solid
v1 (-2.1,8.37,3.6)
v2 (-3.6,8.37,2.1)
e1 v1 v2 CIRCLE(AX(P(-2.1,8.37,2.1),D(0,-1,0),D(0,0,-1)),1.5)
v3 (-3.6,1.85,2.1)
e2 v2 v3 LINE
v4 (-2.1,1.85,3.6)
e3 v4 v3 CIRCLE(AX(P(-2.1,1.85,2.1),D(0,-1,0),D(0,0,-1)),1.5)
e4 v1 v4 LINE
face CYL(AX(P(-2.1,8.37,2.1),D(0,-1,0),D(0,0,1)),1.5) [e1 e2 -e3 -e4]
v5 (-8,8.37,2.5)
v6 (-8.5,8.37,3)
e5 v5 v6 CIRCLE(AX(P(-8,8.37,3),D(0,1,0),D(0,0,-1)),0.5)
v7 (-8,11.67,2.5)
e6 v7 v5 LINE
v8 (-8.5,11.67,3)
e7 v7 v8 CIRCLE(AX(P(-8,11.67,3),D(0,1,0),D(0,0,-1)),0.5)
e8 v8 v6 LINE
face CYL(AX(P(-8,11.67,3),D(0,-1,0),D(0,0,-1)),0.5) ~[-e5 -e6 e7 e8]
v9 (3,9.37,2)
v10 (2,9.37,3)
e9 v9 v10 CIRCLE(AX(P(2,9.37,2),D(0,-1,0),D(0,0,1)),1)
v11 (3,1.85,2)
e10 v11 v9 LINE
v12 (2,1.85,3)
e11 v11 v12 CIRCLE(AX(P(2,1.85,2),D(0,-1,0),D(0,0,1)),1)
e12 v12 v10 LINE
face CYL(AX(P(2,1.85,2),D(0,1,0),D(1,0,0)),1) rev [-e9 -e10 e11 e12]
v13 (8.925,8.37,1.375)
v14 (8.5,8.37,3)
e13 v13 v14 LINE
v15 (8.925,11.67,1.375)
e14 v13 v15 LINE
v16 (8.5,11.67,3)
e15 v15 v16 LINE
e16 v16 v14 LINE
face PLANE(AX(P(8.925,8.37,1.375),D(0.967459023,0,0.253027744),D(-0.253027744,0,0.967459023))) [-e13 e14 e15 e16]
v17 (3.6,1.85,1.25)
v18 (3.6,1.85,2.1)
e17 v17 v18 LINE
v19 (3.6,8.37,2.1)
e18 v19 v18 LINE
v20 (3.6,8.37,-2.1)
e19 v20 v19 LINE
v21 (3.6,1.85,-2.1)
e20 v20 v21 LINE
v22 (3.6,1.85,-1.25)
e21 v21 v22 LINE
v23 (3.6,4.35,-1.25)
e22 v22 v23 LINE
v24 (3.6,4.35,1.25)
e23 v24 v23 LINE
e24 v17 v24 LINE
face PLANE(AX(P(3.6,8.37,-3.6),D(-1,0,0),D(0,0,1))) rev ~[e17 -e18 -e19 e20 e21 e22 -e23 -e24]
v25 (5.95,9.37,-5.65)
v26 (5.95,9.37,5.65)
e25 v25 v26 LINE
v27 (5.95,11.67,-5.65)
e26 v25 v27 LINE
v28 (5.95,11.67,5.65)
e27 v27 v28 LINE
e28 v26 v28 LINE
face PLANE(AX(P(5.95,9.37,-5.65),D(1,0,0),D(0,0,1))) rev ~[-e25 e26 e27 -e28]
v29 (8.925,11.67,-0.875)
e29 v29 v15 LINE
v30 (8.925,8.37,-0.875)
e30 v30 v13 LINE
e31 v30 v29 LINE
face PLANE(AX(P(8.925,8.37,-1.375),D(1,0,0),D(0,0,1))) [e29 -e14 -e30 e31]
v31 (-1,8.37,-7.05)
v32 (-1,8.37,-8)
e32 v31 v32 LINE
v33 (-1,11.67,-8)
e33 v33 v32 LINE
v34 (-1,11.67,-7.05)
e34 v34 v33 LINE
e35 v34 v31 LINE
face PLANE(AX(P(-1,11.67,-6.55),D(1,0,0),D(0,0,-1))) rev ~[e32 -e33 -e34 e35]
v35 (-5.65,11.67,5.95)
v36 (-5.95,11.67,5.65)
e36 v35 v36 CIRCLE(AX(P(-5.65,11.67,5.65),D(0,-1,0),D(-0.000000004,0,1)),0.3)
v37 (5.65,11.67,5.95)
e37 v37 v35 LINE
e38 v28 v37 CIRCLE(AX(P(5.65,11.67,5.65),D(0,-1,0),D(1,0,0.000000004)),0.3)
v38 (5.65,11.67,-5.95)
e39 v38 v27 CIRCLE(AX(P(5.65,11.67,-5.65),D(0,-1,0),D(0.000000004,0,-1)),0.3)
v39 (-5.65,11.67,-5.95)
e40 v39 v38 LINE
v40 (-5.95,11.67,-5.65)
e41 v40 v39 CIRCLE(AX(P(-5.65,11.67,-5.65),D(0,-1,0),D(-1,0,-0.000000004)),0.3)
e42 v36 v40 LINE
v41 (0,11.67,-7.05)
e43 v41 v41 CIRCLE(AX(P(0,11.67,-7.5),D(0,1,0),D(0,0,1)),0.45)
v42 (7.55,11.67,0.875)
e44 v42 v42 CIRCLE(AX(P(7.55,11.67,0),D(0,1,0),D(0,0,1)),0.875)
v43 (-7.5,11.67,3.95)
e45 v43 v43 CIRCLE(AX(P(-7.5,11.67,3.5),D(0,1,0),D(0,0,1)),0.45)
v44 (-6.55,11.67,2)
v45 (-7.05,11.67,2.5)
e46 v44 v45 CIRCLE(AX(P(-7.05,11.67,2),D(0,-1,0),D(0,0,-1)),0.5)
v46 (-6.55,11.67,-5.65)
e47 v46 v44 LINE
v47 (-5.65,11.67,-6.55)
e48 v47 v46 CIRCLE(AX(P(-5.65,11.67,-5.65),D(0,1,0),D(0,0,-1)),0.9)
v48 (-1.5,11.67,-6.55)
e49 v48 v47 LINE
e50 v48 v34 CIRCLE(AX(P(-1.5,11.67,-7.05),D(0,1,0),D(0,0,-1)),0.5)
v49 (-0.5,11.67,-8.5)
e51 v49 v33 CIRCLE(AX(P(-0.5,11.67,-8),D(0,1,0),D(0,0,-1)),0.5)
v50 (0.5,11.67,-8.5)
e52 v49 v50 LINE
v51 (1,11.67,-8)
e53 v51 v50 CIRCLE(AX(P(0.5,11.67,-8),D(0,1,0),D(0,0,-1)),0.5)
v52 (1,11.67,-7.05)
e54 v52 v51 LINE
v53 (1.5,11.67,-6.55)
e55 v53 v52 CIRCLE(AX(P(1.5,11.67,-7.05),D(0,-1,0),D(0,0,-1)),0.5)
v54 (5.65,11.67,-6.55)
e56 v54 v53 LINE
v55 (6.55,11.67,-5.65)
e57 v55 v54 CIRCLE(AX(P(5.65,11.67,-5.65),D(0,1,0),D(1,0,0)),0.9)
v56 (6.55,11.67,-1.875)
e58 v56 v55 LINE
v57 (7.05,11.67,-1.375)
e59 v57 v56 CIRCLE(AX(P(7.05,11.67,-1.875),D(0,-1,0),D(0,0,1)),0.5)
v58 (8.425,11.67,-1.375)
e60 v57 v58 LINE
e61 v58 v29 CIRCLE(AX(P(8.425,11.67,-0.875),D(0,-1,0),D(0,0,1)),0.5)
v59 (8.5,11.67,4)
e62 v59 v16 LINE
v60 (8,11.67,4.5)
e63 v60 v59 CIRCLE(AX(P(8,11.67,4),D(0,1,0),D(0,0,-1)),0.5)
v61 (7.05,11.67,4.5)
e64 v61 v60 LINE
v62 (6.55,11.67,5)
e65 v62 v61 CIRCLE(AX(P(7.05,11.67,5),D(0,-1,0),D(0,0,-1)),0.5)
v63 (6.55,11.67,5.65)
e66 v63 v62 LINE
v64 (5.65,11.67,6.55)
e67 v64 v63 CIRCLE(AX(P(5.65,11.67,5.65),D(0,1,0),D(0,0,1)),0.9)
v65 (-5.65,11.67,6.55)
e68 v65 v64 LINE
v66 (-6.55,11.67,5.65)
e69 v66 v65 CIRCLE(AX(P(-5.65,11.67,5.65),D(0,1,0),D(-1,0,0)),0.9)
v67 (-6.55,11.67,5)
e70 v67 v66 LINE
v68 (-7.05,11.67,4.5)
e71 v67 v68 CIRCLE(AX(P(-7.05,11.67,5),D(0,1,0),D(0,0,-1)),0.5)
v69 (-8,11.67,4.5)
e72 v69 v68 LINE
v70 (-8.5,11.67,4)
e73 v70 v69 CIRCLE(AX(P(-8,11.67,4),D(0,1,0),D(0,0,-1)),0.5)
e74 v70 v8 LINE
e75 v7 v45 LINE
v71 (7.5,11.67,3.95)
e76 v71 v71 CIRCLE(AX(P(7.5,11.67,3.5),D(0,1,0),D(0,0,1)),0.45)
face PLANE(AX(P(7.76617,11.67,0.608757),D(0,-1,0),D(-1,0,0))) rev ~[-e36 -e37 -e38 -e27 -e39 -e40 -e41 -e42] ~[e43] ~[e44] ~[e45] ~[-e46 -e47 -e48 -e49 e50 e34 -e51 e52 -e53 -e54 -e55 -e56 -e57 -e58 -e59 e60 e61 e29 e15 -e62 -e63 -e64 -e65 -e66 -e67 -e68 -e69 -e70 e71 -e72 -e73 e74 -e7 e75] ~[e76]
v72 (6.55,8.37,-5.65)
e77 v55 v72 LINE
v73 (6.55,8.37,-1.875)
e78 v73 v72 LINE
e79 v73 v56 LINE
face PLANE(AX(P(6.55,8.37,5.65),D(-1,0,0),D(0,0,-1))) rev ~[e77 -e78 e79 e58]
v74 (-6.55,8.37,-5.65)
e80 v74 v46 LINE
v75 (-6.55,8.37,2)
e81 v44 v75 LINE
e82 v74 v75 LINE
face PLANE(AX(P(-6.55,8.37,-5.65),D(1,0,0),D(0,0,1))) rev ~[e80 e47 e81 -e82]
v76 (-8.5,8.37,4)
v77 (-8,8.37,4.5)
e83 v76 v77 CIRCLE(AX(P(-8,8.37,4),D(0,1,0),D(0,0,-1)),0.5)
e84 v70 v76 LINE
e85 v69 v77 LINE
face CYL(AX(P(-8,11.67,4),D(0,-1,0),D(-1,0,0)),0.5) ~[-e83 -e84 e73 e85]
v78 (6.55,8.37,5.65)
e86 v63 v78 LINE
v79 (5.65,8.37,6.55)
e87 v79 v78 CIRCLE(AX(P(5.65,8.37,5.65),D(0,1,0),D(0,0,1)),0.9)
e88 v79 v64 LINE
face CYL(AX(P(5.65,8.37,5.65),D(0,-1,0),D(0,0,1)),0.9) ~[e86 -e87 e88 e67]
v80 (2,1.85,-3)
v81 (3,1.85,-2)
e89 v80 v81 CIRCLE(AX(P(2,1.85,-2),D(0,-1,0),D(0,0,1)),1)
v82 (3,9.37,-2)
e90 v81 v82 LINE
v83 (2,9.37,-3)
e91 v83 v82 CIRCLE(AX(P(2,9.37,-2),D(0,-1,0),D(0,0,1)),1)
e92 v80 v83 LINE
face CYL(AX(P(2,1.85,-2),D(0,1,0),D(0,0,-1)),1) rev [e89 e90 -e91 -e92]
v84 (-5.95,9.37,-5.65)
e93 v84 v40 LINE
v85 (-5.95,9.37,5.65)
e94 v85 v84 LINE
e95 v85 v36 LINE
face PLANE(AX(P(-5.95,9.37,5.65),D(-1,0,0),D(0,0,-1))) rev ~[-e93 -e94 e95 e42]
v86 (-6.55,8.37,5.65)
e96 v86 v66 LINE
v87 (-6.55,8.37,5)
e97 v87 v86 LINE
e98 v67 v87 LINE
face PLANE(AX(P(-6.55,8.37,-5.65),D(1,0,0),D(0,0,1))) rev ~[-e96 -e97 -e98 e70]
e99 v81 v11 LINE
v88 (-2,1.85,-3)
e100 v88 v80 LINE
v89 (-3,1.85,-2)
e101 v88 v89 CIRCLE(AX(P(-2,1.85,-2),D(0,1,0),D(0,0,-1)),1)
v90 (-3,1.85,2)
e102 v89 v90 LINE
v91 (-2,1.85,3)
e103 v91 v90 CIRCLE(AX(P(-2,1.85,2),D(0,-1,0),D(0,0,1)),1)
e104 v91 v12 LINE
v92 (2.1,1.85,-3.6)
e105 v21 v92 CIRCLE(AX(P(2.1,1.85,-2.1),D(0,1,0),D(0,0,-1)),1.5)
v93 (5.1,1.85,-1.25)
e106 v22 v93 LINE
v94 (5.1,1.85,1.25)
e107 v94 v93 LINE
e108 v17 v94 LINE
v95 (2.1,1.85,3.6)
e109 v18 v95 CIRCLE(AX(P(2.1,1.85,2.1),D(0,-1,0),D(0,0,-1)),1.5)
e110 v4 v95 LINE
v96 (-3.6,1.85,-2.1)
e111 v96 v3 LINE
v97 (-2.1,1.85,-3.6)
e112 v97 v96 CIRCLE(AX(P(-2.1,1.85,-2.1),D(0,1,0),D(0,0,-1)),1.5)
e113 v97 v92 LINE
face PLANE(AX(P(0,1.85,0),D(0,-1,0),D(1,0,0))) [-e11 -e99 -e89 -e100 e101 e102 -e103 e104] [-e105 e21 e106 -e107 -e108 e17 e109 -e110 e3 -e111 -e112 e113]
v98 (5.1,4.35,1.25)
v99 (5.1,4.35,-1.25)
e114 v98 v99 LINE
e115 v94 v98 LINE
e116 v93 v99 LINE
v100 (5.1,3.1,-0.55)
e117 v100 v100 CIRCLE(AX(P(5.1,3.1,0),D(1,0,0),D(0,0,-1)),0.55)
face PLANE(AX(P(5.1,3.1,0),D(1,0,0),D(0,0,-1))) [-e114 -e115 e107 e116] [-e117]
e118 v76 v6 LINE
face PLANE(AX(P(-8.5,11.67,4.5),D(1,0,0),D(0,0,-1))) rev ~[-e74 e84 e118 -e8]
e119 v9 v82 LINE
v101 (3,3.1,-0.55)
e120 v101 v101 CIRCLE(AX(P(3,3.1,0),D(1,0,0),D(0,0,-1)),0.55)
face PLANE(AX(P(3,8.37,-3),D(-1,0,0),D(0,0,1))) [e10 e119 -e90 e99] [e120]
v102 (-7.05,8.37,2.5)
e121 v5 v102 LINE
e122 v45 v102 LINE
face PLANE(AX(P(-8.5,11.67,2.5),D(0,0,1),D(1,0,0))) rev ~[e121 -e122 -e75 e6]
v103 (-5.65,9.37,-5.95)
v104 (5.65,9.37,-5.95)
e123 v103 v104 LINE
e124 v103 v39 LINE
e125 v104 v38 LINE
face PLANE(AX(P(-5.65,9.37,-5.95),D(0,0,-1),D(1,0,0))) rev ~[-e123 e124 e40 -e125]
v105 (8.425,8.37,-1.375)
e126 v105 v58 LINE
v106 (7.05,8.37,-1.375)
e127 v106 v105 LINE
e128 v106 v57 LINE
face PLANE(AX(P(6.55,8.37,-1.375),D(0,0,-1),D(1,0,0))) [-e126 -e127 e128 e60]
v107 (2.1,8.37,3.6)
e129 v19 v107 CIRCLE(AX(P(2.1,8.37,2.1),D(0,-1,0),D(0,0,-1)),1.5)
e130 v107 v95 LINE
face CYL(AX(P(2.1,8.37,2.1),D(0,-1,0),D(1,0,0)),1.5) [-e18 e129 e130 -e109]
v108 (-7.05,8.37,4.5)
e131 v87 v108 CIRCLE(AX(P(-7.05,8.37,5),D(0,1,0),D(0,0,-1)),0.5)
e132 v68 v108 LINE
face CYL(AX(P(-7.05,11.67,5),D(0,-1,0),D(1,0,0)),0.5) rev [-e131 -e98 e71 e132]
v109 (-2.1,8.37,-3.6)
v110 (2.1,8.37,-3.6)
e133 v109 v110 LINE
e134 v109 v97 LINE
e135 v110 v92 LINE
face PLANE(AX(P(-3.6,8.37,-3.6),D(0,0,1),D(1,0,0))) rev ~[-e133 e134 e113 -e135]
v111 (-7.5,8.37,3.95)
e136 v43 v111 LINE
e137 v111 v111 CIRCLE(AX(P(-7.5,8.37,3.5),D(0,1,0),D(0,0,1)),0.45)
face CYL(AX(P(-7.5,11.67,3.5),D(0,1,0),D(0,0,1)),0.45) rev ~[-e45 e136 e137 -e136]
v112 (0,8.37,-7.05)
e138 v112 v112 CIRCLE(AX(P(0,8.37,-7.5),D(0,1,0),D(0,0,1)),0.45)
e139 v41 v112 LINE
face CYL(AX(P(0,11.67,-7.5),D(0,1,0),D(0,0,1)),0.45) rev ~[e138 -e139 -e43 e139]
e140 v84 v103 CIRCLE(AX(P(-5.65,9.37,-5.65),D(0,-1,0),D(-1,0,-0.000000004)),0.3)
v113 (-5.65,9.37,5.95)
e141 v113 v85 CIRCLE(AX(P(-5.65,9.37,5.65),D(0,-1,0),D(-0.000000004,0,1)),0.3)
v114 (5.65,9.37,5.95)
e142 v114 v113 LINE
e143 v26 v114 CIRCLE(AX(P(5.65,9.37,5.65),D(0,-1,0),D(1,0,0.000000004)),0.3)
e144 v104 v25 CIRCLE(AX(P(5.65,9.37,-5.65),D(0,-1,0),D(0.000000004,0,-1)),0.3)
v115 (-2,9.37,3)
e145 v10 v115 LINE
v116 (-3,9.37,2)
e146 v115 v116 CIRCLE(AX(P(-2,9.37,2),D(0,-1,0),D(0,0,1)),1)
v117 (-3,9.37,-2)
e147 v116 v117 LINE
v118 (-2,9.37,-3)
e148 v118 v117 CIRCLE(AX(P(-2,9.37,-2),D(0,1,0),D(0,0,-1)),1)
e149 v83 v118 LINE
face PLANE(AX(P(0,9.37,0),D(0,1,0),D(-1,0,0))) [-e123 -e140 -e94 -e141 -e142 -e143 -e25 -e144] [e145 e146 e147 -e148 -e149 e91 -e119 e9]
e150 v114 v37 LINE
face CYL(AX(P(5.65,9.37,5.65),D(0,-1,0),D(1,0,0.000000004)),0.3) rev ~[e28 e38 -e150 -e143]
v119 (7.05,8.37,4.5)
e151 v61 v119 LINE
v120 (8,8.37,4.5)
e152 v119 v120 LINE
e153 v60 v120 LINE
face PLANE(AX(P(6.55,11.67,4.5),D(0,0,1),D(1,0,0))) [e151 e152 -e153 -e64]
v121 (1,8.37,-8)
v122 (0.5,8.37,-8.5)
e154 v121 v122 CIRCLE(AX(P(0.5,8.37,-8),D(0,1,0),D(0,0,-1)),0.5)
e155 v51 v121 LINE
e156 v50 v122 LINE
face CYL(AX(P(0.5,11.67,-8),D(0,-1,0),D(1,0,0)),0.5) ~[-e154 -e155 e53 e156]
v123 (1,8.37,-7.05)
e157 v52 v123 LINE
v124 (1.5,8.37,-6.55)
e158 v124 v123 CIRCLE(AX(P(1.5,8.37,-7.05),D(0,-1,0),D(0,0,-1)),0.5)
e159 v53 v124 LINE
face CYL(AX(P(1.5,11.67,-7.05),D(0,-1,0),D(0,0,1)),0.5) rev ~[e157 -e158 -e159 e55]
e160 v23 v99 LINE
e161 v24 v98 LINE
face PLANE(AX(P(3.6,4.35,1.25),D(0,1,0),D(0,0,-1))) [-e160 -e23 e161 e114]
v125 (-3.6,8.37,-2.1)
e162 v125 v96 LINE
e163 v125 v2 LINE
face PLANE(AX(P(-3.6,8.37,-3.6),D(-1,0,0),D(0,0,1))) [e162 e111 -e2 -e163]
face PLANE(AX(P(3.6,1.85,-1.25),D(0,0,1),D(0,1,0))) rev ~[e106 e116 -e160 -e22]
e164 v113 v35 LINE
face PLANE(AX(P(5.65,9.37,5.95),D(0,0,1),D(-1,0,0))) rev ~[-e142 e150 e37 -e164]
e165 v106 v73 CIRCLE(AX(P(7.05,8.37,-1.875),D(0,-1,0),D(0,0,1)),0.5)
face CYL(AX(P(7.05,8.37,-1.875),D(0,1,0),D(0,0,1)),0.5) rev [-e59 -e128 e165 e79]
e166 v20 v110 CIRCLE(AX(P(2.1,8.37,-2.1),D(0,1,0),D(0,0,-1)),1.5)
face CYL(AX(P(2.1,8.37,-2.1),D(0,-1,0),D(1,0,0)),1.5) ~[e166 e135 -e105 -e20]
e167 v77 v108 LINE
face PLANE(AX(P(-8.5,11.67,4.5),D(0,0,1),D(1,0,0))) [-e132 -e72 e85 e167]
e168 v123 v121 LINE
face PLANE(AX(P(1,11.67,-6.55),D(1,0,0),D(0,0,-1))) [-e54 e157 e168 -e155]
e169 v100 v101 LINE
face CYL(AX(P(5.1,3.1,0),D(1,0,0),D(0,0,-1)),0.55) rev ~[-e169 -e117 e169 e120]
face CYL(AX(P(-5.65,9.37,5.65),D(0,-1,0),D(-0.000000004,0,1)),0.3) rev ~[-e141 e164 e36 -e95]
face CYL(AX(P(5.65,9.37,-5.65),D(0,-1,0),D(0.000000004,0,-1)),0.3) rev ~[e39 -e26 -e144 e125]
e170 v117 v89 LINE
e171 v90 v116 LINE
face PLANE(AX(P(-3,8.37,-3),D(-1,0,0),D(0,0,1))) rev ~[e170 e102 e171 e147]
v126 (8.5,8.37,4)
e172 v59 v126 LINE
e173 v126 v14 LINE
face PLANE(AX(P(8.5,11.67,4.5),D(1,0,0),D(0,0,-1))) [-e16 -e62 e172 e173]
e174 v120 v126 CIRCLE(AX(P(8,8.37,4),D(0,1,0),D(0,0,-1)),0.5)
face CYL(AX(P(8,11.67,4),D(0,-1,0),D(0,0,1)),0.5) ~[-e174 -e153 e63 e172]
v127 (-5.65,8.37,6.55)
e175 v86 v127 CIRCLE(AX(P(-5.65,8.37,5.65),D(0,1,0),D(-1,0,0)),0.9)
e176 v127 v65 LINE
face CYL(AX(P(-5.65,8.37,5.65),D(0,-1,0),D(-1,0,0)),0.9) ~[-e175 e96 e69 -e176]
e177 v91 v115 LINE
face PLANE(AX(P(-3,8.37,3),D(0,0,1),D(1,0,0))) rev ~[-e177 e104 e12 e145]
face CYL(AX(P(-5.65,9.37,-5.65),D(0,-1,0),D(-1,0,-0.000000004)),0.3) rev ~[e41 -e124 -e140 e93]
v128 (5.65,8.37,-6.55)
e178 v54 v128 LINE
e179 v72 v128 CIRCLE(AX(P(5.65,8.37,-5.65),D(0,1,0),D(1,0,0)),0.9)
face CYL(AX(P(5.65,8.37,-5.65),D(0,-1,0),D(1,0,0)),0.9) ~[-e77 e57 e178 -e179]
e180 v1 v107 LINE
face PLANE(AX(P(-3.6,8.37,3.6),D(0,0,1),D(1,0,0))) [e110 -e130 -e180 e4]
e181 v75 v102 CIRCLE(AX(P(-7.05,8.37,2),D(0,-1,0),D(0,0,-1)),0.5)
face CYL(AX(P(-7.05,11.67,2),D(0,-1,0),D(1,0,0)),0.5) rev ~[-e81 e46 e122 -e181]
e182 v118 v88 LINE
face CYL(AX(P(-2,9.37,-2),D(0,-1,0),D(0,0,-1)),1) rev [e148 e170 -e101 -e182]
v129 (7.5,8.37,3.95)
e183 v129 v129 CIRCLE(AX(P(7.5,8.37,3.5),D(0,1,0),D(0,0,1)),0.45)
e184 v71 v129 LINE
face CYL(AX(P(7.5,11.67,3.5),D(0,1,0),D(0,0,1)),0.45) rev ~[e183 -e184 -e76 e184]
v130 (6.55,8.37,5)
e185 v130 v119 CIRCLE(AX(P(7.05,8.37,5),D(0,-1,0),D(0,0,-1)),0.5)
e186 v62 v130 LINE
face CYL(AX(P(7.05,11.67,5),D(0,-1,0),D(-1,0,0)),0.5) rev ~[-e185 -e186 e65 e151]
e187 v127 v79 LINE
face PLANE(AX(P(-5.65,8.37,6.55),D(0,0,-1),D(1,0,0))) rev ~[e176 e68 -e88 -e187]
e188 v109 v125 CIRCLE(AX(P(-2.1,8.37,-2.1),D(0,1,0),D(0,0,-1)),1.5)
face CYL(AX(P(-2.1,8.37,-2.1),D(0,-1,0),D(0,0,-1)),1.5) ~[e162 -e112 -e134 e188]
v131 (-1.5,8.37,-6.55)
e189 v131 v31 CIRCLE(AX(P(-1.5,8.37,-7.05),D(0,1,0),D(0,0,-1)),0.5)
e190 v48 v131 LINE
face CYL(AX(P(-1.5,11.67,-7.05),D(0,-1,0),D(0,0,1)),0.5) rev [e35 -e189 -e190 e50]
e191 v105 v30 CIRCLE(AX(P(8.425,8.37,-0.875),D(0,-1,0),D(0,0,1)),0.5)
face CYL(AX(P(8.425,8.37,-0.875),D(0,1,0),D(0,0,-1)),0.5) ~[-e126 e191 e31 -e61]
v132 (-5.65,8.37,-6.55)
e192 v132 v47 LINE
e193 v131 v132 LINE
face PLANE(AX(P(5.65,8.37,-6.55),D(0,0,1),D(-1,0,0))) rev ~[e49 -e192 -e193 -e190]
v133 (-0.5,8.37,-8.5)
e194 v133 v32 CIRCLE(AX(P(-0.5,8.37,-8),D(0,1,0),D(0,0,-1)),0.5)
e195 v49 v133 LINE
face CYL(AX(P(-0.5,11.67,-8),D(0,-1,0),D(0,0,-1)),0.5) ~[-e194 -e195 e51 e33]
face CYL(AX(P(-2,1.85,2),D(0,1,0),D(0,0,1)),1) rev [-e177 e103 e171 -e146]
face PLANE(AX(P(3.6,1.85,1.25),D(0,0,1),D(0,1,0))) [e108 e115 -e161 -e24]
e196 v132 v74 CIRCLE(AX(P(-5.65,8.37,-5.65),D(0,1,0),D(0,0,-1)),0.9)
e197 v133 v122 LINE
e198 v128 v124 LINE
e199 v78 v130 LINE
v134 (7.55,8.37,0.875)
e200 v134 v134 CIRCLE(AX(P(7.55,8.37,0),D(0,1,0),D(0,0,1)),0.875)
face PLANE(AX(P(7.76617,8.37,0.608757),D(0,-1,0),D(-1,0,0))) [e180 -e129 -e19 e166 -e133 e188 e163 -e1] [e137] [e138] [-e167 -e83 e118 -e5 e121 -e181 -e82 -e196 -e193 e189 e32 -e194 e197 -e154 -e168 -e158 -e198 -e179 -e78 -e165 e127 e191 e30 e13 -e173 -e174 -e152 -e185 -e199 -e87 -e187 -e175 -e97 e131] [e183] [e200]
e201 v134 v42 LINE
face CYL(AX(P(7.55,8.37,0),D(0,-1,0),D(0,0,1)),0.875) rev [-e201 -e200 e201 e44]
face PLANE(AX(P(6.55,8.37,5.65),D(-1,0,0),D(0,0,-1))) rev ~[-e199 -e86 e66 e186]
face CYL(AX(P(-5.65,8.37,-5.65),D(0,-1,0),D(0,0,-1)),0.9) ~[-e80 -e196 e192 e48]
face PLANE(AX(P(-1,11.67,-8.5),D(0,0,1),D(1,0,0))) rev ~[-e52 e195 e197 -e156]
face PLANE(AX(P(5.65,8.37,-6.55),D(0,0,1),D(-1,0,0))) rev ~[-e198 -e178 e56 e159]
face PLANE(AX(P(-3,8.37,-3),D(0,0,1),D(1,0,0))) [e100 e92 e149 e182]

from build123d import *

# Parameters (mm, degrees)
BOSS_EXTRUDE1_DEPTH       = 2.3
BOSS_EXTRUDE2_START       = 1
BOSS_EXTRUDE2_DEPTH       = 1
SKETCH19_W                = 2
SKETCH19_H                = 1.95
SKETCH19_R                = 0.45
SKETCH19_W_2              = 1.95
SKETCH19_H_2              = 2
CMOS_MOUNTING_HOLES_DEPTH = 3.3
FILLET1_R                 = 0.5
SKETCH21_W                = 7.2
SKETCH21_H                = 7.2
SKETCH21_W_2              = 6
SKETCH21_H_2              = 6
COLUMN_DEPTH              = 6.52
SKETCH22_W                = 6
SKETCH22_H                = 6
COLUMN_EXTRUDED_CUT_DEPTH = 14.675174588
COLUMN_OUTSIDE_FILLET_R   = 1.5
COLUMN_INSIDE_FILLET_R    = 1
SKETCH25_W                = 2.5
SKETCH25_H                = 2.5
SET_SCREW_EXTRUSION_DEPTH = 1.5
SET_SCREW_HOLE_REACH      = 21.834
SKETCH26_R                = 0.55
LARGE_START               = -3.3
SKETCH29_R                = 0.875
LARGE_WIRE_HOLE_DEPTH     = 3.3
FILLET3_R                 = 0.5


with BuildPart() as part:
    # Sketch4 → Boss-Extrude1 (new body)
    with BuildSketch(Plane(origin=(0, 9.37, 0), x_dir=(1, 0, 0), z_dir=(0, 1, 0))):
        with BuildLine():
            Line((-6.55, 5.65), (-6.55, -5.65))
            ThreePointArc((-6.55, -5.65), (-6.286396103, -6.286396103), (-5.65, -6.55))
            Line((-5.65, -6.55), (5.65, -6.55))
            ThreePointArc((5.65, -6.55), (6.286396103, -6.286396103), (6.55, -5.65))
            Line((6.55, -5.65), (6.55, 5.65))
            ThreePointArc((6.55, 5.65), (6.286396103, 6.286396103), (5.65, 6.55))
            Line((5.65, 6.55), (-5.65, 6.55))
            ThreePointArc((-5.65, 6.55), (-6.286396103, 6.286396103), (-6.55, 5.65))
        make_face()
        with BuildLine():
            Line((-5.65, 5.95), (5.65, 5.95))
            ThreePointArc((5.65, 5.95), (5.862132034, 5.862132034), (5.95, 5.65))
            Line((5.95, 5.65), (5.95, -5.65))
            ThreePointArc((5.95, -5.65), (5.862132034, -5.862132034), (5.65, -5.95))
            Line((5.65, -5.95), (-5.65, -5.95))
            ThreePointArc((-5.65, -5.95), (-5.862132034, -5.862132034), (-5.95, -5.65))
            Line((-5.95, -5.65), (-5.95, 5.65))
            ThreePointArc((-5.95, 5.65), (-5.862132034, 5.862132034), (-5.65, 5.95))
        make_face(mode=Mode.SUBTRACT)
    extrude(amount=BOSS_EXTRUDE1_DEPTH)

    # Sketch20 → Boss-Extrude2 (add)
    with BuildSketch(Plane.XZ.offset(-9.37).offset(BOSS_EXTRUDE2_START)):
        with BuildLine():
            Line((5.65, -6.55), (-5.65, -6.55))
            ThreePointArc((-5.65, -6.55), (-6.286396103, -6.286396103), (-6.55, -5.65))
            Line((-6.55, -5.65), (-6.55, 5.65))
            ThreePointArc((-6.55, 5.65), (-6.286396103, 6.286396103), (-5.65, 6.55))
            Line((-5.65, 6.55), (5.65, 6.55))
            ThreePointArc((5.65, 6.55), (6.286396103, 6.286396103), (6.55, 5.65))
            Line((6.55, 5.65), (6.55, -5.65))
            ThreePointArc((6.55, -5.65), (6.286396103, -6.286396103), (5.65, -6.55))
        make_face()
    extrude(amount=-BOSS_EXTRUDE2_DEPTH)

    # Sketch19 → CMOS Mounting Holes (add)
    # profile 1 of 3: a face of its own
    with BuildSketch(Plane(origin=(0, 11.67, 0), x_dir=(1, 0, 0), z_dir=(0, 1, 0))):
        with Locations((0, 7.525)):
            Rectangle(SKETCH19_W, SKETCH19_H)
        with Locations(Location((0, 7.5, 0), (0, 0, 270))):
            Circle(SKETCH19_R, mode=Mode.SUBTRACT)
    # profile 2 of 3: a face of its own
    with BuildSketch(Plane(origin=(0, 11.67, 0), x_dir=(1, 0, 0), z_dir=(0, 1, 0))):
        with Locations((-7.525, -3.5)):
            Rectangle(SKETCH19_W_2, SKETCH19_H_2)
        with Locations(Location((-7.5, -3.5, 0), (0, 0, 270))):
            Circle(SKETCH19_R, mode=Mode.SUBTRACT)
    # profile 3 of 3: a face of its own
    with BuildSketch(Plane(origin=(0, 11.67, 0), x_dir=(1, 0, 0), z_dir=(0, 1, 0))):
        with Locations((7.525, -3.5)):
            Rectangle(SKETCH19_W_2, SKETCH19_H_2)
        with Locations(Location((7.5, -3.5, 0), (0, 0, 270))):
            Circle(SKETCH19_R, mode=Mode.SUBTRACT)
    extrude(amount=-CMOS_MOUNTING_HOLES_DEPTH)

    # Fillet1
    fillet1_edges = [part.edges().sort_by_distance(p)[0] for p in [
        (1, 10.02, -6.55),
        (-1, 10.02, -6.55),
        (-1, 10.02, -8.5),
        (1, 10.02, -8.5),
        (-6.55, 10.02, 2.5),
        (-6.55, 10.02, 4.5),
        (-8.5, 10.02, 4.5),
        (-8.5, 10.02, 2.5),
        (6.55, 10.02, 4.5),
        (6.55, 10.02, 2.5),
        (8.5, 10.02, 2.5),
        (8.5, 10.02, 4.5),
    ]]
    fillet(fillet1_edges, radius=FILLET1_R)

    # Sketch21 → Column (add)
    with BuildSketch(Plane.XZ.offset(-8.37)):
        Rectangle(SKETCH21_W, SKETCH21_H)
        Rectangle(SKETCH21_W_2, SKETCH21_H_2, mode=Mode.SUBTRACT)
    extrude(amount=COLUMN_DEPTH)

    # Sketch22 → Column Extruded Cut (cut, through all)
    with BuildSketch(Plane.XZ.offset(-8.37)):
        Rectangle(SKETCH22_W, SKETCH22_H)
    extrude(amount=-COLUMN_EXTRUDED_CUT_DEPTH, mode=Mode.SUBTRACT)

    # Column Outside Fillet
    column_outside_fillet_edges = [part.edges().sort_by_distance(p)[0] for p in [
        (-3.6, 5.11, 3.6),
        (-3.6, 5.11, -3.6),
        (3.6, 5.11, -3.6),
        (3.6, 5.11, 3.6),
    ]]
    fillet(column_outside_fillet_edges, radius=COLUMN_OUTSIDE_FILLET_R)

    # Column Inside Fillet
    column_inside_fillet_edges = [part.edges().sort_by_distance(p)[0] for p in [
        (-3, 5.61, -3),
        (3, 5.61, -3),
        (3, 5.61, 3),
        (-3, 5.61, 3),
    ]]
    fillet(column_inside_fillet_edges, radius=COLUMN_INSIDE_FILLET_R)

    # Sketch25 → Set Screw Extrusion (add)
    with BuildSketch(Plane(origin=(3.6, 0, 0), x_dir=(0, 0, -1), z_dir=(1, 0, 0))):
        with Locations((0, 3.1)):
            Rectangle(SKETCH25_W, SKETCH25_H)
    extrude(amount=SET_SCREW_EXTRUSION_DEPTH)

    # Sketch26 → Set Screw Hole (cut, up to next)
    with BuildSketch(Plane(origin=(5.1, 0, 0), x_dir=(0, 0, -1), z_dir=(1, 0, 0)), mode=Mode.PRIVATE) as set_screw_hole_sk1:
        with Locations((0, 3.1)):
            Circle(SKETCH26_R)
    set_screw_hole_tool1 = extrude(set_screw_hole_sk1.sketch, amount=-SET_SCREW_HOLE_REACH, mode=Mode.PRIVATE) & part.part
    add(set_screw_hole_tool1.solids().sort_by_distance((5.1, 3.1, 0))[0], mode=Mode.SUBTRACT)

    # Sketch29 → Large Wire Hole (add)
    with BuildSketch(Plane(origin=(0, 11.67, 0), x_dir=(1, 0, 0), z_dir=(0, 1, 0)).offset(LARGE_START)):
        with BuildLine():
            Line((6.55, -2), (6.55, 1.375))
            Line((6.55, 1.375), (8.925, 1.375))
            Line((8.925, 1.375), (8.925, -1.375))
            Line((8.925, -1.375), (8.5, -3))
            ThreePointArc((8.5, -3), (8.353553391, -2.646446609), (8, -2.5))
            Line((8, -2.5), (7.05, -2.5))
            ThreePointArc((7.05, -2.5), (6.696446609, -2.353553391), (6.55, -2))
        make_face()
        with Locations(Location((7.55, 0, 0), (0, 0, 270))):
            Circle(SKETCH29_R, mode=Mode.SUBTRACT)
    extrude(amount=LARGE_WIRE_HOLE_DEPTH)

    # Fillet3
    fillet3_edges = [part.edges().sort_by_distance(p)[0] for p in [
        (6.55, 10.02, -1.375),
        (8.925, 10.02, -1.375),
    ]]
    fillet(fillet3_edges, radius=FILLET3_R)


solid = part.part
